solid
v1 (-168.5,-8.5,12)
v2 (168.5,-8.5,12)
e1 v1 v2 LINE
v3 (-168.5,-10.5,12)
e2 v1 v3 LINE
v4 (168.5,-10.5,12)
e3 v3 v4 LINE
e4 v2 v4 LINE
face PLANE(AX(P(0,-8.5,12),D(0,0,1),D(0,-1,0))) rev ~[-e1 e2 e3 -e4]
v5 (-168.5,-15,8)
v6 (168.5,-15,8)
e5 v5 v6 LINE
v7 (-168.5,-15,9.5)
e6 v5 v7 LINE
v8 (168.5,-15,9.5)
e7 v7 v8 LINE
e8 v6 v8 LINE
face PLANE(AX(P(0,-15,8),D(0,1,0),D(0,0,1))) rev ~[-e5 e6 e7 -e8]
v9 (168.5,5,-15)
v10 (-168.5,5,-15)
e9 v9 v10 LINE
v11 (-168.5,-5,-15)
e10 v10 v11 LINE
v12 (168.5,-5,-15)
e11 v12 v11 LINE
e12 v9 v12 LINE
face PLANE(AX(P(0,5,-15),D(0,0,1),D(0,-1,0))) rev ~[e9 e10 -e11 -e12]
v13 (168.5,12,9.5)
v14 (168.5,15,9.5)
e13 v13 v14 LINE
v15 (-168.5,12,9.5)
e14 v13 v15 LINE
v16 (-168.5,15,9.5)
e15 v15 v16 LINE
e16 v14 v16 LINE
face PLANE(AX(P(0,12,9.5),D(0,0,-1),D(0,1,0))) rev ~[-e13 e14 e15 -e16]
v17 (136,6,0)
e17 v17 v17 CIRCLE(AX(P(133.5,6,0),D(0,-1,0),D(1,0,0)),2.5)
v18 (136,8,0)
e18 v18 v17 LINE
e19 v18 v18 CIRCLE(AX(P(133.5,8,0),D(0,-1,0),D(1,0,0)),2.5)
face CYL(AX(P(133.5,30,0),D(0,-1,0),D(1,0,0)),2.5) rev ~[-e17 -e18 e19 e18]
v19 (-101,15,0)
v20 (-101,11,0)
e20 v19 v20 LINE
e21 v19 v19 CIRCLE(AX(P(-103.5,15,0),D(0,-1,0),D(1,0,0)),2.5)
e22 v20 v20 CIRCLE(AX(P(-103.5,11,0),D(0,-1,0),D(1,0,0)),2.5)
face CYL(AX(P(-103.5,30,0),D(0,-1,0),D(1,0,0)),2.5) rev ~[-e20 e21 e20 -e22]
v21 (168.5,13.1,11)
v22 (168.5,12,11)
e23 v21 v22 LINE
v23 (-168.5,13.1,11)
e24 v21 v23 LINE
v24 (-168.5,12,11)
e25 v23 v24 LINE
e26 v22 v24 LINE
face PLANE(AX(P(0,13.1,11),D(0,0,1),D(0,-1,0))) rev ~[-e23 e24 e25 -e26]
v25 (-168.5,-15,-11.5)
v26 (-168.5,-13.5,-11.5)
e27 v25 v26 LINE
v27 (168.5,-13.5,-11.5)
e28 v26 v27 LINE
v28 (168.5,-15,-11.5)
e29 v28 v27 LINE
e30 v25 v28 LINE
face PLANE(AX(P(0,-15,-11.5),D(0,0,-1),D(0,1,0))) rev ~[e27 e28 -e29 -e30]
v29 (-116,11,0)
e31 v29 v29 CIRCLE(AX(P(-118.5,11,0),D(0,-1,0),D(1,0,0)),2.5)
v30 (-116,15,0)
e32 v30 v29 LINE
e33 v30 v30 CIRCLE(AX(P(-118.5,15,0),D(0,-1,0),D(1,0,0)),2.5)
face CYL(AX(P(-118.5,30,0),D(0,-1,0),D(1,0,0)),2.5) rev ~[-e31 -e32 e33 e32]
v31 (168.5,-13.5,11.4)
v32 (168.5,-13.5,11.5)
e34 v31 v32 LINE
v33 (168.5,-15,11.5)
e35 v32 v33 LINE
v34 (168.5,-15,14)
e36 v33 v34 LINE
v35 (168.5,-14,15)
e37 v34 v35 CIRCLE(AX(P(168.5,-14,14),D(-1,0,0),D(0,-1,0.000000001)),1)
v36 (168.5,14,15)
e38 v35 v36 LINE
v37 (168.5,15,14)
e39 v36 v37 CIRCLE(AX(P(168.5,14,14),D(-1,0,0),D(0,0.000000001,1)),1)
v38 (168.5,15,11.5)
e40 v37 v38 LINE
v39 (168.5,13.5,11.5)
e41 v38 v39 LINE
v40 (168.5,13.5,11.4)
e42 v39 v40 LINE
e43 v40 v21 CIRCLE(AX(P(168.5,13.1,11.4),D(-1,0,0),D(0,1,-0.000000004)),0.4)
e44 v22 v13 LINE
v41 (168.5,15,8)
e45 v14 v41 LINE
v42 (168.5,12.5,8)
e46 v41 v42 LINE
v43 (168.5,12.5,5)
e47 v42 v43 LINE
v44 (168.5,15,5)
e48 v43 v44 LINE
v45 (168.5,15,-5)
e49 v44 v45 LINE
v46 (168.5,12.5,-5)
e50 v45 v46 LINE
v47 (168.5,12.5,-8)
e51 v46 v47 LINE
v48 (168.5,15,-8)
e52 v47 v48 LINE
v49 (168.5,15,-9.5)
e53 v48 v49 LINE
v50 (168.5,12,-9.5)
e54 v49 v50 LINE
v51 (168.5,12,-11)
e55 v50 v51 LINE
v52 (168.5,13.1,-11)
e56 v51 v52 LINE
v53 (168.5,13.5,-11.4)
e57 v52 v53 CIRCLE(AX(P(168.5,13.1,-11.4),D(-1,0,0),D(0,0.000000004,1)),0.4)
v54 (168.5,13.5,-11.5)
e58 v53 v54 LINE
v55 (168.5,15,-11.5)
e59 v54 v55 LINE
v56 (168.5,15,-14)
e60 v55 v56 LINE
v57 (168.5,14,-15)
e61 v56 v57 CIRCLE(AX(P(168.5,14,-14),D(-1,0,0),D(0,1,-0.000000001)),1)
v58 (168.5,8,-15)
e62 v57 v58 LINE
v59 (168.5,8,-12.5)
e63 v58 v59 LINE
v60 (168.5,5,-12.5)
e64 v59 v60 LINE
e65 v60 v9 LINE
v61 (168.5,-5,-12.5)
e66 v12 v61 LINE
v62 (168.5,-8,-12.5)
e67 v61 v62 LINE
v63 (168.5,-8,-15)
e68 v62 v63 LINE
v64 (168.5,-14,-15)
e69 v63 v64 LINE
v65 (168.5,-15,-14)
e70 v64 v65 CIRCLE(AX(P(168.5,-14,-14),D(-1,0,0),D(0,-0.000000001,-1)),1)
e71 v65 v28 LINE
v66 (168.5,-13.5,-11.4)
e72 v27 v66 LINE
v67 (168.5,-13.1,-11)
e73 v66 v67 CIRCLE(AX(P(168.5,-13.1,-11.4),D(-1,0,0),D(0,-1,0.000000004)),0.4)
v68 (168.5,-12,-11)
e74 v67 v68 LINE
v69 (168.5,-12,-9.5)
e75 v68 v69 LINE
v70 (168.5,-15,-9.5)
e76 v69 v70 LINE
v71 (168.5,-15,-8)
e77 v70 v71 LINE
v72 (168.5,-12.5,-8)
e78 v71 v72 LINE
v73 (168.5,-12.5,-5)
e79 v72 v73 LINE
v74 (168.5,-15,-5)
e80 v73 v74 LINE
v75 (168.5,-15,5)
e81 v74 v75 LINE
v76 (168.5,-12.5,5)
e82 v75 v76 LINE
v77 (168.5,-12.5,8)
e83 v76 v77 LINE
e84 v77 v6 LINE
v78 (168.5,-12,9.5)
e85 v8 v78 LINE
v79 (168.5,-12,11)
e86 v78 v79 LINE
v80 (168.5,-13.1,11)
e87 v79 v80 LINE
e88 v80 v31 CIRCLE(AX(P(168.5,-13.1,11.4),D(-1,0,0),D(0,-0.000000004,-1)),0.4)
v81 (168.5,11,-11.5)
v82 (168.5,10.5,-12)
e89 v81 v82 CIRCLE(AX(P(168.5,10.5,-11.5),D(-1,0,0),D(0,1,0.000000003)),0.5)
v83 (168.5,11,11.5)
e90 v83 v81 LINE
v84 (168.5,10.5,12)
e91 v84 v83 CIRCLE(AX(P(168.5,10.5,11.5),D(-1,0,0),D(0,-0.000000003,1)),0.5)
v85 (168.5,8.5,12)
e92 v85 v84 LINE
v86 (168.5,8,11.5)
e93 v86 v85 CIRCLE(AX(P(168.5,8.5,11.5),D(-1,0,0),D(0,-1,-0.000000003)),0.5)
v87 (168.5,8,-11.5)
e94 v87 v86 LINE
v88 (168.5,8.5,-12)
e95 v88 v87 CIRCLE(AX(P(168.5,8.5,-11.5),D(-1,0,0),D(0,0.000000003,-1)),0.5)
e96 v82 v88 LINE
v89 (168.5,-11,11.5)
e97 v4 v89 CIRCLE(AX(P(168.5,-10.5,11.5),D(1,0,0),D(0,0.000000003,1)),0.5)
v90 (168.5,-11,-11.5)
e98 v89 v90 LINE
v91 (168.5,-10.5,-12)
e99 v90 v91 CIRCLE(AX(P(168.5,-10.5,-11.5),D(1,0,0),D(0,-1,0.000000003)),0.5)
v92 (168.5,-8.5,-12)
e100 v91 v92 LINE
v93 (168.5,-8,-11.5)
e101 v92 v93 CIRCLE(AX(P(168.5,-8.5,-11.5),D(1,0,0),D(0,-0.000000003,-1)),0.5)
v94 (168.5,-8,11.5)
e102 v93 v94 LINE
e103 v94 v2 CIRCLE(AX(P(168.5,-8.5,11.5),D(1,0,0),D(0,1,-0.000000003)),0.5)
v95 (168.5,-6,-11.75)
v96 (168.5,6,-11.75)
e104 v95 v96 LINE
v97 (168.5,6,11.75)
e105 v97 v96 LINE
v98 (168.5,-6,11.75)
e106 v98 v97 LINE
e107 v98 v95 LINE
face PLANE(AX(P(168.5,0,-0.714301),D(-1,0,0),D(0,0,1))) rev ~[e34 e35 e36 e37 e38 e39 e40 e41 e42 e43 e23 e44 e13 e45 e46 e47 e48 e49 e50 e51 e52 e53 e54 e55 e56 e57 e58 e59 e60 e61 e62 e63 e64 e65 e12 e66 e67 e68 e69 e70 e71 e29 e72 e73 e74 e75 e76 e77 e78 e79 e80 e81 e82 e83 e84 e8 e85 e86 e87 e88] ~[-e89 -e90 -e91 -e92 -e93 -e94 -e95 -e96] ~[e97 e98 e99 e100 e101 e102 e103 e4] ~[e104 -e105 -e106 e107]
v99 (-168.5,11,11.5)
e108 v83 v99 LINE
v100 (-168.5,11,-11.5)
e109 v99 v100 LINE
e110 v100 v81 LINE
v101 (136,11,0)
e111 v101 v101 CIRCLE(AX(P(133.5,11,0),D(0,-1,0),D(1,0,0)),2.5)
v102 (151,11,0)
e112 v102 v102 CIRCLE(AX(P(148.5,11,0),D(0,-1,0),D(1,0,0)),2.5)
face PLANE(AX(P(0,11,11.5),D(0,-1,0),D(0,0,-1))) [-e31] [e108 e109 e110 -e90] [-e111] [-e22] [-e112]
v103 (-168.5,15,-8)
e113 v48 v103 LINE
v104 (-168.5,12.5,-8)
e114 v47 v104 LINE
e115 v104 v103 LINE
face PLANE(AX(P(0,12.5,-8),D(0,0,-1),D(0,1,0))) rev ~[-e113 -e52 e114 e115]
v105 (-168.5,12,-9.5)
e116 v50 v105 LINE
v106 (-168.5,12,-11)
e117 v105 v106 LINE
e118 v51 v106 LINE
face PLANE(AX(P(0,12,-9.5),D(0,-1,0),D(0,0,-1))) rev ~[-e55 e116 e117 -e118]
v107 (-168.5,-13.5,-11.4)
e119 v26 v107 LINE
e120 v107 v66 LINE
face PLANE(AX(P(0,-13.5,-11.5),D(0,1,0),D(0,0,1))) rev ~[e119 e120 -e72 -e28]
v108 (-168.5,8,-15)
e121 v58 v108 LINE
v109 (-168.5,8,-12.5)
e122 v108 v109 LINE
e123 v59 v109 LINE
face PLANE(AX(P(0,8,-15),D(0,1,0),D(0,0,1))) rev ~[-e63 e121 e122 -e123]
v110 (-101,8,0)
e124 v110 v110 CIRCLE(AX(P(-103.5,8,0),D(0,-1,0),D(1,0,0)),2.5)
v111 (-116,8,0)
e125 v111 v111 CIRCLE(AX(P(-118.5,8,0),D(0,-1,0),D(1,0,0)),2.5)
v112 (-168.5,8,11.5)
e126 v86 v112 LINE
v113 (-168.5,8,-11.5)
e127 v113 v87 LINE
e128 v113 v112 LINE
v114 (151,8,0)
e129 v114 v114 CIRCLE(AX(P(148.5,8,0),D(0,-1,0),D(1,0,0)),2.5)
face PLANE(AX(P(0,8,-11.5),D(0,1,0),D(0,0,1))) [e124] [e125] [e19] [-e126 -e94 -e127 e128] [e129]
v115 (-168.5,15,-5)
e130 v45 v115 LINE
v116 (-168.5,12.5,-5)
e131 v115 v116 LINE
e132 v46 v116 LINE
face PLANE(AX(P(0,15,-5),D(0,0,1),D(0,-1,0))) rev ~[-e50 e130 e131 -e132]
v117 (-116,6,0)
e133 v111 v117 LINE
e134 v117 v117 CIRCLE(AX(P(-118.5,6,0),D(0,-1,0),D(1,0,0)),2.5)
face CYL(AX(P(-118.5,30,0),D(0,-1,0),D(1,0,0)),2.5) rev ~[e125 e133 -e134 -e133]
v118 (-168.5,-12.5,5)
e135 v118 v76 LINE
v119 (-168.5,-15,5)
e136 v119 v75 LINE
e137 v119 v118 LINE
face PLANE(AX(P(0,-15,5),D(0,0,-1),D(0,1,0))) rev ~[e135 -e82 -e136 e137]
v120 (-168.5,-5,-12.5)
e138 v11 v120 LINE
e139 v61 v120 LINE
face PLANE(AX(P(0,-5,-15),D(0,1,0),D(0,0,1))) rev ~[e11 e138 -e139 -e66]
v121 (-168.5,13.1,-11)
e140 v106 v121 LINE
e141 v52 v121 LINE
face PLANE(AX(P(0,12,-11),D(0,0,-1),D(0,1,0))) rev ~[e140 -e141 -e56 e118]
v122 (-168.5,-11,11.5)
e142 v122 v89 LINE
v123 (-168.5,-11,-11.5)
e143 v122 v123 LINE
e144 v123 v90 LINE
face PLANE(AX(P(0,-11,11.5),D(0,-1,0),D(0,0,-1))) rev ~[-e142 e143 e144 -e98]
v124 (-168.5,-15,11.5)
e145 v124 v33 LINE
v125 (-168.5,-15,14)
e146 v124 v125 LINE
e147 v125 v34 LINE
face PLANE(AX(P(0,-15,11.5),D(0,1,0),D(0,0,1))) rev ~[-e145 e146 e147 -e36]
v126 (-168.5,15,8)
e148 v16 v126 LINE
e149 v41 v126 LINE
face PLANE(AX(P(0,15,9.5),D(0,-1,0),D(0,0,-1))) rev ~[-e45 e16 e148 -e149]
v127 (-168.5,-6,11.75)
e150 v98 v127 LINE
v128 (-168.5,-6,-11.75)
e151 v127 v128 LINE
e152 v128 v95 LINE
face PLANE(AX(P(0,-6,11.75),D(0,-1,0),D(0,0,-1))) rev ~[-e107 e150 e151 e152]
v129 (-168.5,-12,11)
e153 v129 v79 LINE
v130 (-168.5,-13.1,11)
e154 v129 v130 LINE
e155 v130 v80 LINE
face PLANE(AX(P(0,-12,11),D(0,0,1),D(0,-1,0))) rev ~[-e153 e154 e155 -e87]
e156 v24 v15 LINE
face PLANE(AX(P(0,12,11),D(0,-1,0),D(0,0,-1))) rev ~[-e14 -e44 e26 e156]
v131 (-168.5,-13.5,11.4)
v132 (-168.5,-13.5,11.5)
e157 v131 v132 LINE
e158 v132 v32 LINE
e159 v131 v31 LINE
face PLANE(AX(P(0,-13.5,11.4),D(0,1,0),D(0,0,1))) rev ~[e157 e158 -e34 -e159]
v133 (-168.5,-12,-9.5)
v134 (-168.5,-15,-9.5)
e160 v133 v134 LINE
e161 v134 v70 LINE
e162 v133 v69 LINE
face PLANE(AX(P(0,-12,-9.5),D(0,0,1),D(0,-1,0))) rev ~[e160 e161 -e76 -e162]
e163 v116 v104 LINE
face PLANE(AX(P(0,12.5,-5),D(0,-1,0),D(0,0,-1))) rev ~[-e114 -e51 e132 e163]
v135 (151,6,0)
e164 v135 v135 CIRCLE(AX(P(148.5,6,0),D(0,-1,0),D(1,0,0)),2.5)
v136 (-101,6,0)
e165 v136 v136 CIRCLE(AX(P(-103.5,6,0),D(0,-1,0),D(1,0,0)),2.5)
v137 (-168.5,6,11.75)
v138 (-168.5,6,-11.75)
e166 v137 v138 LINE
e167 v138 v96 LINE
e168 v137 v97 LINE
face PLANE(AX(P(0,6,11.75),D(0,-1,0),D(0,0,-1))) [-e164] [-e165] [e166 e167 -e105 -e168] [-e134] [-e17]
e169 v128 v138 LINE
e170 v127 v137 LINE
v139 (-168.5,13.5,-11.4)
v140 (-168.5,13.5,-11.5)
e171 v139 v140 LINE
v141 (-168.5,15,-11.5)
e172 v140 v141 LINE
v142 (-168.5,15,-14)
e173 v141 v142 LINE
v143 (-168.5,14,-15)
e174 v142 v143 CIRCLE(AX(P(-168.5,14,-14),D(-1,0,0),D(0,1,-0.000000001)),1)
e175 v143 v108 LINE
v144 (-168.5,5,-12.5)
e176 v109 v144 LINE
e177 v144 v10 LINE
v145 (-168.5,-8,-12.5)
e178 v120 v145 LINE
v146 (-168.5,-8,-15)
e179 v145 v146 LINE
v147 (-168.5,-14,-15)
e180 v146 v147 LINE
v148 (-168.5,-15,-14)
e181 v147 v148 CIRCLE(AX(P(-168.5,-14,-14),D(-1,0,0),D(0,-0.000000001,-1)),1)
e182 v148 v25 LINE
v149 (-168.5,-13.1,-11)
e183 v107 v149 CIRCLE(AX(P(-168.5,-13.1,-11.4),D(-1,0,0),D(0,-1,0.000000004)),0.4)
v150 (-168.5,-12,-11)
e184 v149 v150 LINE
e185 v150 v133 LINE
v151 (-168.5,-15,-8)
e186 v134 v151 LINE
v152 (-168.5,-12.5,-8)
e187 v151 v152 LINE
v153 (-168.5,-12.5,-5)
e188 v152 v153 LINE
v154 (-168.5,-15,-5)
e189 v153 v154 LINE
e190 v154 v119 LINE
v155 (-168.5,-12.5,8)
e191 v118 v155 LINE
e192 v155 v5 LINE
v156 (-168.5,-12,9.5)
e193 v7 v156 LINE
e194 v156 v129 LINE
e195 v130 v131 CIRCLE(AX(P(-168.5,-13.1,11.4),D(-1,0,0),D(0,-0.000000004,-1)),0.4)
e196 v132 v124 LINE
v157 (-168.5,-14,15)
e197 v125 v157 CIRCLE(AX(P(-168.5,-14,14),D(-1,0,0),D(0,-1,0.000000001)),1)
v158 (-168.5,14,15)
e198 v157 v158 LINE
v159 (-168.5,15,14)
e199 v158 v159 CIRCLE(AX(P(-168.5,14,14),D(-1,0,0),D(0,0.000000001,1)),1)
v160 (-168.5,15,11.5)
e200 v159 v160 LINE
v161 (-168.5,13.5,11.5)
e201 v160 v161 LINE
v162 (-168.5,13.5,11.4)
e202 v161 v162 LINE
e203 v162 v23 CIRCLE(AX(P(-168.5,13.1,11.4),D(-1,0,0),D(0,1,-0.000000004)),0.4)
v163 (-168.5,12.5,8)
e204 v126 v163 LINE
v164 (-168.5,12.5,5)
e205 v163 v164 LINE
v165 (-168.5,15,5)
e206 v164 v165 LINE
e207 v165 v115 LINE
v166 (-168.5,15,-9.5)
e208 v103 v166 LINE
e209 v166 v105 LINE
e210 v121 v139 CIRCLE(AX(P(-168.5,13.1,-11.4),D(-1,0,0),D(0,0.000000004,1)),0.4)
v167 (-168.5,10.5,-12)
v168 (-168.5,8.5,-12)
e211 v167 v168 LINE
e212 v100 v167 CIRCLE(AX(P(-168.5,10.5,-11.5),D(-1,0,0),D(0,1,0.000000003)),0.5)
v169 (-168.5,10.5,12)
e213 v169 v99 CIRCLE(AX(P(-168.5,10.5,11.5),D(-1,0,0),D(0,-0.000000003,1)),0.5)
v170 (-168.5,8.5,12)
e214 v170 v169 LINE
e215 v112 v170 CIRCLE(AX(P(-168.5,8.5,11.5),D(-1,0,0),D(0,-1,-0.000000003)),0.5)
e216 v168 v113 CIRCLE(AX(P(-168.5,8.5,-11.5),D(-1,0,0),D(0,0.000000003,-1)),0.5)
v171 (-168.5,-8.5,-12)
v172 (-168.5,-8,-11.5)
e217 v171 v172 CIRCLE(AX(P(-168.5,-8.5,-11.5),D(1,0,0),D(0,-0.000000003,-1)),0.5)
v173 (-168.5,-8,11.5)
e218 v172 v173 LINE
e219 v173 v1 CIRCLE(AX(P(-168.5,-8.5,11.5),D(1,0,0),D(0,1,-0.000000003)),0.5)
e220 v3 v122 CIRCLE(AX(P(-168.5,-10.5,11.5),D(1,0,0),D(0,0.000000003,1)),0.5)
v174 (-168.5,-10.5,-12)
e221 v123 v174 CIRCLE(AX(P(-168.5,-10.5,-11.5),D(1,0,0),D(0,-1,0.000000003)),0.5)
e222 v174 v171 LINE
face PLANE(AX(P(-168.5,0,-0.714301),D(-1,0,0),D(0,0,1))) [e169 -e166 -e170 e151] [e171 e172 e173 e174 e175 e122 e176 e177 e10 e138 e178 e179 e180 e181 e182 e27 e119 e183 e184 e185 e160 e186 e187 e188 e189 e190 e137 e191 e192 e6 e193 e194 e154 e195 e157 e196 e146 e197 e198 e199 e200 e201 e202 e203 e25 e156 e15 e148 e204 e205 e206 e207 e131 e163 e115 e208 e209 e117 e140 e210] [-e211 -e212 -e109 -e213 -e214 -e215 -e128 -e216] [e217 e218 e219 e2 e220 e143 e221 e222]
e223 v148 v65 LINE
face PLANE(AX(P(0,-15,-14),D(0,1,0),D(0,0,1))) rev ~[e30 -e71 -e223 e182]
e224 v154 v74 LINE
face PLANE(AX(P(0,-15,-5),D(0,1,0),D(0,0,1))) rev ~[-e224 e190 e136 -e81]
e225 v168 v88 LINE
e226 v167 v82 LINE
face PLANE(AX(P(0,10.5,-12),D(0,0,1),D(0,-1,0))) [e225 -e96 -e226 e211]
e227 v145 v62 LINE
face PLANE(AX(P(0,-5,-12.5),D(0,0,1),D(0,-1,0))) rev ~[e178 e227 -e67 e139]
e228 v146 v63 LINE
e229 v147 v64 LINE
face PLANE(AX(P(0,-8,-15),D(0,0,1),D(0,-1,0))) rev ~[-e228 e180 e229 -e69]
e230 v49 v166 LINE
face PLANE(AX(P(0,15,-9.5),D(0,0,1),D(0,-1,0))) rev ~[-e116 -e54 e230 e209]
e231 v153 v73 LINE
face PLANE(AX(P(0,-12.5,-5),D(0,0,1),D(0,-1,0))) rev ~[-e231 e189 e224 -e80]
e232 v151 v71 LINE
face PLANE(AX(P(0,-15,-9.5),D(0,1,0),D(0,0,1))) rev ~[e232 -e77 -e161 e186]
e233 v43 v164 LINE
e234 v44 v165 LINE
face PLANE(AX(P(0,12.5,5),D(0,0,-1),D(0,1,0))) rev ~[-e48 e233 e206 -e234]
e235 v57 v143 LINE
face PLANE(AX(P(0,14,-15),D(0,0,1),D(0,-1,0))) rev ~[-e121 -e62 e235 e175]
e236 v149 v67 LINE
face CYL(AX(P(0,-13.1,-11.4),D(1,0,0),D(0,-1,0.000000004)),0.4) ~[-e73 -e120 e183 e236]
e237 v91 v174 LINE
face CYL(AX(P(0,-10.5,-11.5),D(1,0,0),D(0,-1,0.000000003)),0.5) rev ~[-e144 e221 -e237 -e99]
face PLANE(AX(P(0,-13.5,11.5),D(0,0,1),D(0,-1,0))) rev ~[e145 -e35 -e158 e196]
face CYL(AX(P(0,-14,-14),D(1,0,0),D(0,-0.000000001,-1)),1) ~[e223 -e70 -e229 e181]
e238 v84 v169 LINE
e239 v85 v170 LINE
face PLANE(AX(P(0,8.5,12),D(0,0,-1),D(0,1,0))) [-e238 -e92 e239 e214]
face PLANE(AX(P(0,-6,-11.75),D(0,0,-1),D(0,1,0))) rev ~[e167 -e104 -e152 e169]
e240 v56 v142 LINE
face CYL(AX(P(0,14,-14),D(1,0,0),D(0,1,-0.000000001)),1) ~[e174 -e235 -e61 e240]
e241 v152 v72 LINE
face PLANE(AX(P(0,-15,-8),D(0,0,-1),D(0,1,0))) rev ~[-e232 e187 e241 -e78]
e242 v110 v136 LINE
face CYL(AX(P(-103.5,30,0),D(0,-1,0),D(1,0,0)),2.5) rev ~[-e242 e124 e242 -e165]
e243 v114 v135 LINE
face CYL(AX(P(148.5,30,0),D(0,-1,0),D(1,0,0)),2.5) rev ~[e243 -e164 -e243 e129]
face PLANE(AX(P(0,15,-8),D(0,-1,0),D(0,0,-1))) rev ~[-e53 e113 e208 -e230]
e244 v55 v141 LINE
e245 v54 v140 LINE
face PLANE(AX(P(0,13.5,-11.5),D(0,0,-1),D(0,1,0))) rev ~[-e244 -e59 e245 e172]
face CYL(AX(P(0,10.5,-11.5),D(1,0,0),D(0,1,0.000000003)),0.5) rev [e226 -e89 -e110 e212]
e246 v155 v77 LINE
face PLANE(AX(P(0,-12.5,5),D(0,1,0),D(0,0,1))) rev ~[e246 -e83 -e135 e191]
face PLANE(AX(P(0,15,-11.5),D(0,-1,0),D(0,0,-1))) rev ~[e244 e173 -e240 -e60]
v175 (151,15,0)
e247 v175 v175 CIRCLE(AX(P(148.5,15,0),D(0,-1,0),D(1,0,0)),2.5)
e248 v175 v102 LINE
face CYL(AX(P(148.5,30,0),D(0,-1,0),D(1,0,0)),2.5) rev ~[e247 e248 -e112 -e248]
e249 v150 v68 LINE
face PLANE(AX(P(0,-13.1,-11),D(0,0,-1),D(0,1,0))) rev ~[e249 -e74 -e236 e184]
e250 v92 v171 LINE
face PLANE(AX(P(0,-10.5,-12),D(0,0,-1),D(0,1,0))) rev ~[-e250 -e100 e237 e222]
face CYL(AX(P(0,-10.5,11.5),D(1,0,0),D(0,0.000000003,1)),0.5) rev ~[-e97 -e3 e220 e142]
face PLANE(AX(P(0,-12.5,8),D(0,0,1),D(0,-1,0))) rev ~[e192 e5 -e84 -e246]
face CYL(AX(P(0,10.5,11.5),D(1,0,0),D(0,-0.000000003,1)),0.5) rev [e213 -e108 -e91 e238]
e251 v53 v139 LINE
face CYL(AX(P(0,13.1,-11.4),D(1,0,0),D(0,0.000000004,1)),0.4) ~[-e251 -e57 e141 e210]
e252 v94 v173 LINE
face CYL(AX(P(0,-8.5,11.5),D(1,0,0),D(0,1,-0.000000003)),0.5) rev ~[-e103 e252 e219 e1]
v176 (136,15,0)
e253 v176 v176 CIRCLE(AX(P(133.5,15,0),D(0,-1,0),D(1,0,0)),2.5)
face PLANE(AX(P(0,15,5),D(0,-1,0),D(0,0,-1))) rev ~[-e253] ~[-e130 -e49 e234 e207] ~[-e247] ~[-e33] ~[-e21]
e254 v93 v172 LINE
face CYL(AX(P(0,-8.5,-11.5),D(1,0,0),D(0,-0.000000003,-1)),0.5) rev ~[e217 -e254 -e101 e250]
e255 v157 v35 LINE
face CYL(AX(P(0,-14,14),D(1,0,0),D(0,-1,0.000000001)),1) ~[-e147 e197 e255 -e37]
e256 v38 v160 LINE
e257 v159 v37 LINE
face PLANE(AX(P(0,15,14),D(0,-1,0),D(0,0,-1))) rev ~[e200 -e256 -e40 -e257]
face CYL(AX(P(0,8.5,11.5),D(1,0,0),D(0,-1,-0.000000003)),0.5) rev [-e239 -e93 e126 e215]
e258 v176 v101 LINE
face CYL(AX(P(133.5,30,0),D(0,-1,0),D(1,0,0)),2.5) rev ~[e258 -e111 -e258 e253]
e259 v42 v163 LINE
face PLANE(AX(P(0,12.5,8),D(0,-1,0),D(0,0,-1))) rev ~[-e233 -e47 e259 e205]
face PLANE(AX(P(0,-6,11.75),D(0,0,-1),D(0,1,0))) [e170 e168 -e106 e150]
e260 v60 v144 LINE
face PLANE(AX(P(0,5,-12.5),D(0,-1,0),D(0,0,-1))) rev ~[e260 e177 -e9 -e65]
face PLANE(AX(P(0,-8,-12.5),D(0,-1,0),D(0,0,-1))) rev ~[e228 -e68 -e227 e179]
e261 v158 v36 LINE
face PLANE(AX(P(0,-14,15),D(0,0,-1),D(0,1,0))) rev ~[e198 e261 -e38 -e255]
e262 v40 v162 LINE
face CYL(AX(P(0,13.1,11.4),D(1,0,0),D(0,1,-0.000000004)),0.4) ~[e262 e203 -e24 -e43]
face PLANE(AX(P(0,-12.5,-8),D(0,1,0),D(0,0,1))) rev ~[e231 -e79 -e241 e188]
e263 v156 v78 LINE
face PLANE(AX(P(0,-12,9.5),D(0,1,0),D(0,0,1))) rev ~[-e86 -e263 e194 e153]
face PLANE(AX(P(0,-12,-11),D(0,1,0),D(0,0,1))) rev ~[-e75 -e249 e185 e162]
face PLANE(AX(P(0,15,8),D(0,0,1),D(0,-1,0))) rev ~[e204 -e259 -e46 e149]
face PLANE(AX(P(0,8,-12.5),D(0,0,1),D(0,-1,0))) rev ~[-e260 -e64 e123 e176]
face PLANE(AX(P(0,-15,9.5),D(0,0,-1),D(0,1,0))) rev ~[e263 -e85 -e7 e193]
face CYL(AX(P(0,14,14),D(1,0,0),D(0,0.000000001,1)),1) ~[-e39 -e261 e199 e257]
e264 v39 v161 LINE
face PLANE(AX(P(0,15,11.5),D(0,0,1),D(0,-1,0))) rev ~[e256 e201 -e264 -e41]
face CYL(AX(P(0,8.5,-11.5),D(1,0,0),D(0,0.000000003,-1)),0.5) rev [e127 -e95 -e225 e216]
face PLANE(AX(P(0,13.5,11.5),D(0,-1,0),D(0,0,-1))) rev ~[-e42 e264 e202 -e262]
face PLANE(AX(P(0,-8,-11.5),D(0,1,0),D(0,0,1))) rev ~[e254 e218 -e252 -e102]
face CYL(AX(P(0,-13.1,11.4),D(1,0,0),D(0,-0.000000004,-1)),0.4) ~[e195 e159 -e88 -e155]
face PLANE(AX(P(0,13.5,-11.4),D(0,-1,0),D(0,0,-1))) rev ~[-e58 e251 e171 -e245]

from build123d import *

# Parameters (mm, degrees)
SKETCH_1_W             = 23.5
SKETCH_1_H             = 12
EXTRUDE_1_DEPTH        = 168.5
HOLE_WIZARD_M6_1_D     = 5
HOLE_WIZARD_M6_1_DEPTH = 15
HOLE_WIZARD_M6_1_TIP   = 1.502151548


with BuildPart() as part:
    # 草图1 → 凸台-拉伸1 (new, symmetric)
    with BuildSketch(Plane(origin=(0, 0, 0), x_dir=(0, 0, -1), z_dir=(1, 0, 0))):
        with BuildLine():
            Line((-14, 15), (-11.5, 15))
            Line((-11.5, 15), (-11.5, 13.5))
            Line((-11.5, 13.5), (-11.4, 13.5))
            ThreePointArc((-11.4, 13.5), (-11.117157288, 13.382842712), (-11, 13.1))
            Line((-11, 13.1), (-11, 12))
            Line((-11, 12), (-9.5, 12))
            Line((-9.5, 12), (-9.5, 15))
            Line((-9.5, 15), (-8, 15))
            Line((-8, 15), (-8, 12.5))
            Line((-8, 12.5), (-5, 12.5))
            Line((-5, 12.5), (-5, 15))
            Line((-5, 15), (5, 15))
            Line((5, 15), (5, 12.5))
            Line((5, 12.5), (8, 12.5))
            Line((8, 12.5), (8, 15))
            Line((8, 15), (9.5, 15))
            Line((9.5, 15), (9.5, 12))
            Line((9.5, 12), (11, 12))
            Line((11, 12), (11, 13.1))
            ThreePointArc((11, 13.1), (11.117157288, 13.382842712), (11.4, 13.5))
            Line((11.4, 13.5), (11.5, 13.5))
            Line((11.5, 13.5), (11.5, 15))
            Line((11.5, 15), (14, 15))
            ThreePointArc((14, 15), (14.707106781, 14.707106781), (15, 14))
            Line((15, 14), (15, 8))
            Line((15, 8), (12.5, 8))
            Line((12.5, 8), (12.5, 5))
            Line((12.5, 5), (15, 5))
            Line((15, 5), (15, -5))
            Line((15, -5), (12.5, -5))
            Line((12.5, -5), (12.5, -8))
            Line((12.5, -8), (15, -8))
            Line((15, -8), (15, -14))
            ThreePointArc((15, -14), (14.707106781, -14.707106781), (14, -15))
            Line((14, -15), (11.5, -15))
            Line((11.5, -15), (11.5, -13.5))
            Line((11.5, -13.5), (11.4, -13.5))
            ThreePointArc((11.4, -13.5), (11.117157288, -13.382842712), (11, -13.1))
            Line((11, -13.1), (11, -12))
            Line((11, -12), (9.5, -12))
            Line((9.5, -12), (9.5, -15))
            Line((9.5, -15), (8, -15))
            Line((8, -15), (8, -12.5))
            Line((8, -12.5), (5, -12.5))
            Line((5, -12.5), (5, -15))
            Line((5, -15), (-5, -15))
            Line((-5, -15), (-5, -12.5))
            Line((-5, -12.5), (-8, -12.5))
            Line((-8, -12.5), (-8, -15))
            Line((-8, -15), (-9.5, -15))
            Line((-9.5, -15), (-9.5, -12))
            Line((-9.5, -12), (-11, -12))
            Line((-11, -12), (-11, -13.1))
            ThreePointArc((-11, -13.1), (-11.117157288, -13.382842712), (-11.4, -13.5))
            Line((-11.4, -13.5), (-11.5, -13.5))
            Line((-11.5, -13.5), (-11.5, -15))
            Line((-11.5, -15), (-14, -15))
            ThreePointArc((-14, -15), (-14.707106781, -14.707106781), (-15, -14))
            Line((-15, -14), (-15, 14))
            ThreePointArc((-15, 14), (-14.707106781, 14.707106781), (-14, 15))
        make_face()
        with BuildLine():
            Line((12, -10.5), (12, -8.5))
            ThreePointArc((12, -8.5), (11.853553391, -8.146446609), (11.5, -8))
            Line((11.5, -8), (-11.5, -8))
            ThreePointArc((-11.5, -8), (-11.853553391, -8.146446609), (-12, -8.5))
            Line((-12, -8.5), (-12, -10.5))
            ThreePointArc((-12, -10.5), (-11.853553391, -10.853553391), (-11.5, -11))
            Line((-11.5, -11), (11.5, -11))
            ThreePointArc((11.5, -11), (11.853553391, -10.853553391), (12, -10.5))
        make_face(mode=Mode.SUBTRACT)
        with BuildLine():
            Line((-11.5, 11), (11.5, 11))
            ThreePointArc((11.5, 11), (11.853553391, 10.853553391), (12, 10.5))
            Line((12, 10.5), (12, 8.5))
            ThreePointArc((12, 8.5), (11.853553391, 8.146446609), (11.5, 8))
            Line((11.5, 8), (-11.5, 8))
            ThreePointArc((-11.5, 8), (-11.853553391, 8.146446609), (-12, 8.5))
            Line((-12, 8.5), (-12, 10.5))
            ThreePointArc((-12, 10.5), (-11.853553391, 10.853553391), (-11.5, 11))
        make_face(mode=Mode.SUBTRACT)
        Rectangle(SKETCH_1_W, SKETCH_1_H, mode=Mode.SUBTRACT)
    extrude(amount=EXTRUDE_1_DEPTH, both=True)

    # M6 螺纹孔1
    with Locations(Plane(origin=(0, 15, 0), x_dir=(-1, 0, 0), z_dir=(0, 1, 0))):
        with Locations((-148.5, 0), (-133.5, 0), (103.5, 0), (118.5, 0)):
            Hole(HOLE_WIZARD_M6_1_D / 2, depth=HOLE_WIZARD_M6_1_DEPTH)
            with Locations((0, 0, -(HOLE_WIZARD_M6_1_DEPTH + HOLE_WIZARD_M6_1_TIP / 2))):  # 118° drill point
                Cone(0, HOLE_WIZARD_M6_1_D / 2, HOLE_WIZARD_M6_1_TIP, mode=Mode.SUBTRACT)


solid = part.part
